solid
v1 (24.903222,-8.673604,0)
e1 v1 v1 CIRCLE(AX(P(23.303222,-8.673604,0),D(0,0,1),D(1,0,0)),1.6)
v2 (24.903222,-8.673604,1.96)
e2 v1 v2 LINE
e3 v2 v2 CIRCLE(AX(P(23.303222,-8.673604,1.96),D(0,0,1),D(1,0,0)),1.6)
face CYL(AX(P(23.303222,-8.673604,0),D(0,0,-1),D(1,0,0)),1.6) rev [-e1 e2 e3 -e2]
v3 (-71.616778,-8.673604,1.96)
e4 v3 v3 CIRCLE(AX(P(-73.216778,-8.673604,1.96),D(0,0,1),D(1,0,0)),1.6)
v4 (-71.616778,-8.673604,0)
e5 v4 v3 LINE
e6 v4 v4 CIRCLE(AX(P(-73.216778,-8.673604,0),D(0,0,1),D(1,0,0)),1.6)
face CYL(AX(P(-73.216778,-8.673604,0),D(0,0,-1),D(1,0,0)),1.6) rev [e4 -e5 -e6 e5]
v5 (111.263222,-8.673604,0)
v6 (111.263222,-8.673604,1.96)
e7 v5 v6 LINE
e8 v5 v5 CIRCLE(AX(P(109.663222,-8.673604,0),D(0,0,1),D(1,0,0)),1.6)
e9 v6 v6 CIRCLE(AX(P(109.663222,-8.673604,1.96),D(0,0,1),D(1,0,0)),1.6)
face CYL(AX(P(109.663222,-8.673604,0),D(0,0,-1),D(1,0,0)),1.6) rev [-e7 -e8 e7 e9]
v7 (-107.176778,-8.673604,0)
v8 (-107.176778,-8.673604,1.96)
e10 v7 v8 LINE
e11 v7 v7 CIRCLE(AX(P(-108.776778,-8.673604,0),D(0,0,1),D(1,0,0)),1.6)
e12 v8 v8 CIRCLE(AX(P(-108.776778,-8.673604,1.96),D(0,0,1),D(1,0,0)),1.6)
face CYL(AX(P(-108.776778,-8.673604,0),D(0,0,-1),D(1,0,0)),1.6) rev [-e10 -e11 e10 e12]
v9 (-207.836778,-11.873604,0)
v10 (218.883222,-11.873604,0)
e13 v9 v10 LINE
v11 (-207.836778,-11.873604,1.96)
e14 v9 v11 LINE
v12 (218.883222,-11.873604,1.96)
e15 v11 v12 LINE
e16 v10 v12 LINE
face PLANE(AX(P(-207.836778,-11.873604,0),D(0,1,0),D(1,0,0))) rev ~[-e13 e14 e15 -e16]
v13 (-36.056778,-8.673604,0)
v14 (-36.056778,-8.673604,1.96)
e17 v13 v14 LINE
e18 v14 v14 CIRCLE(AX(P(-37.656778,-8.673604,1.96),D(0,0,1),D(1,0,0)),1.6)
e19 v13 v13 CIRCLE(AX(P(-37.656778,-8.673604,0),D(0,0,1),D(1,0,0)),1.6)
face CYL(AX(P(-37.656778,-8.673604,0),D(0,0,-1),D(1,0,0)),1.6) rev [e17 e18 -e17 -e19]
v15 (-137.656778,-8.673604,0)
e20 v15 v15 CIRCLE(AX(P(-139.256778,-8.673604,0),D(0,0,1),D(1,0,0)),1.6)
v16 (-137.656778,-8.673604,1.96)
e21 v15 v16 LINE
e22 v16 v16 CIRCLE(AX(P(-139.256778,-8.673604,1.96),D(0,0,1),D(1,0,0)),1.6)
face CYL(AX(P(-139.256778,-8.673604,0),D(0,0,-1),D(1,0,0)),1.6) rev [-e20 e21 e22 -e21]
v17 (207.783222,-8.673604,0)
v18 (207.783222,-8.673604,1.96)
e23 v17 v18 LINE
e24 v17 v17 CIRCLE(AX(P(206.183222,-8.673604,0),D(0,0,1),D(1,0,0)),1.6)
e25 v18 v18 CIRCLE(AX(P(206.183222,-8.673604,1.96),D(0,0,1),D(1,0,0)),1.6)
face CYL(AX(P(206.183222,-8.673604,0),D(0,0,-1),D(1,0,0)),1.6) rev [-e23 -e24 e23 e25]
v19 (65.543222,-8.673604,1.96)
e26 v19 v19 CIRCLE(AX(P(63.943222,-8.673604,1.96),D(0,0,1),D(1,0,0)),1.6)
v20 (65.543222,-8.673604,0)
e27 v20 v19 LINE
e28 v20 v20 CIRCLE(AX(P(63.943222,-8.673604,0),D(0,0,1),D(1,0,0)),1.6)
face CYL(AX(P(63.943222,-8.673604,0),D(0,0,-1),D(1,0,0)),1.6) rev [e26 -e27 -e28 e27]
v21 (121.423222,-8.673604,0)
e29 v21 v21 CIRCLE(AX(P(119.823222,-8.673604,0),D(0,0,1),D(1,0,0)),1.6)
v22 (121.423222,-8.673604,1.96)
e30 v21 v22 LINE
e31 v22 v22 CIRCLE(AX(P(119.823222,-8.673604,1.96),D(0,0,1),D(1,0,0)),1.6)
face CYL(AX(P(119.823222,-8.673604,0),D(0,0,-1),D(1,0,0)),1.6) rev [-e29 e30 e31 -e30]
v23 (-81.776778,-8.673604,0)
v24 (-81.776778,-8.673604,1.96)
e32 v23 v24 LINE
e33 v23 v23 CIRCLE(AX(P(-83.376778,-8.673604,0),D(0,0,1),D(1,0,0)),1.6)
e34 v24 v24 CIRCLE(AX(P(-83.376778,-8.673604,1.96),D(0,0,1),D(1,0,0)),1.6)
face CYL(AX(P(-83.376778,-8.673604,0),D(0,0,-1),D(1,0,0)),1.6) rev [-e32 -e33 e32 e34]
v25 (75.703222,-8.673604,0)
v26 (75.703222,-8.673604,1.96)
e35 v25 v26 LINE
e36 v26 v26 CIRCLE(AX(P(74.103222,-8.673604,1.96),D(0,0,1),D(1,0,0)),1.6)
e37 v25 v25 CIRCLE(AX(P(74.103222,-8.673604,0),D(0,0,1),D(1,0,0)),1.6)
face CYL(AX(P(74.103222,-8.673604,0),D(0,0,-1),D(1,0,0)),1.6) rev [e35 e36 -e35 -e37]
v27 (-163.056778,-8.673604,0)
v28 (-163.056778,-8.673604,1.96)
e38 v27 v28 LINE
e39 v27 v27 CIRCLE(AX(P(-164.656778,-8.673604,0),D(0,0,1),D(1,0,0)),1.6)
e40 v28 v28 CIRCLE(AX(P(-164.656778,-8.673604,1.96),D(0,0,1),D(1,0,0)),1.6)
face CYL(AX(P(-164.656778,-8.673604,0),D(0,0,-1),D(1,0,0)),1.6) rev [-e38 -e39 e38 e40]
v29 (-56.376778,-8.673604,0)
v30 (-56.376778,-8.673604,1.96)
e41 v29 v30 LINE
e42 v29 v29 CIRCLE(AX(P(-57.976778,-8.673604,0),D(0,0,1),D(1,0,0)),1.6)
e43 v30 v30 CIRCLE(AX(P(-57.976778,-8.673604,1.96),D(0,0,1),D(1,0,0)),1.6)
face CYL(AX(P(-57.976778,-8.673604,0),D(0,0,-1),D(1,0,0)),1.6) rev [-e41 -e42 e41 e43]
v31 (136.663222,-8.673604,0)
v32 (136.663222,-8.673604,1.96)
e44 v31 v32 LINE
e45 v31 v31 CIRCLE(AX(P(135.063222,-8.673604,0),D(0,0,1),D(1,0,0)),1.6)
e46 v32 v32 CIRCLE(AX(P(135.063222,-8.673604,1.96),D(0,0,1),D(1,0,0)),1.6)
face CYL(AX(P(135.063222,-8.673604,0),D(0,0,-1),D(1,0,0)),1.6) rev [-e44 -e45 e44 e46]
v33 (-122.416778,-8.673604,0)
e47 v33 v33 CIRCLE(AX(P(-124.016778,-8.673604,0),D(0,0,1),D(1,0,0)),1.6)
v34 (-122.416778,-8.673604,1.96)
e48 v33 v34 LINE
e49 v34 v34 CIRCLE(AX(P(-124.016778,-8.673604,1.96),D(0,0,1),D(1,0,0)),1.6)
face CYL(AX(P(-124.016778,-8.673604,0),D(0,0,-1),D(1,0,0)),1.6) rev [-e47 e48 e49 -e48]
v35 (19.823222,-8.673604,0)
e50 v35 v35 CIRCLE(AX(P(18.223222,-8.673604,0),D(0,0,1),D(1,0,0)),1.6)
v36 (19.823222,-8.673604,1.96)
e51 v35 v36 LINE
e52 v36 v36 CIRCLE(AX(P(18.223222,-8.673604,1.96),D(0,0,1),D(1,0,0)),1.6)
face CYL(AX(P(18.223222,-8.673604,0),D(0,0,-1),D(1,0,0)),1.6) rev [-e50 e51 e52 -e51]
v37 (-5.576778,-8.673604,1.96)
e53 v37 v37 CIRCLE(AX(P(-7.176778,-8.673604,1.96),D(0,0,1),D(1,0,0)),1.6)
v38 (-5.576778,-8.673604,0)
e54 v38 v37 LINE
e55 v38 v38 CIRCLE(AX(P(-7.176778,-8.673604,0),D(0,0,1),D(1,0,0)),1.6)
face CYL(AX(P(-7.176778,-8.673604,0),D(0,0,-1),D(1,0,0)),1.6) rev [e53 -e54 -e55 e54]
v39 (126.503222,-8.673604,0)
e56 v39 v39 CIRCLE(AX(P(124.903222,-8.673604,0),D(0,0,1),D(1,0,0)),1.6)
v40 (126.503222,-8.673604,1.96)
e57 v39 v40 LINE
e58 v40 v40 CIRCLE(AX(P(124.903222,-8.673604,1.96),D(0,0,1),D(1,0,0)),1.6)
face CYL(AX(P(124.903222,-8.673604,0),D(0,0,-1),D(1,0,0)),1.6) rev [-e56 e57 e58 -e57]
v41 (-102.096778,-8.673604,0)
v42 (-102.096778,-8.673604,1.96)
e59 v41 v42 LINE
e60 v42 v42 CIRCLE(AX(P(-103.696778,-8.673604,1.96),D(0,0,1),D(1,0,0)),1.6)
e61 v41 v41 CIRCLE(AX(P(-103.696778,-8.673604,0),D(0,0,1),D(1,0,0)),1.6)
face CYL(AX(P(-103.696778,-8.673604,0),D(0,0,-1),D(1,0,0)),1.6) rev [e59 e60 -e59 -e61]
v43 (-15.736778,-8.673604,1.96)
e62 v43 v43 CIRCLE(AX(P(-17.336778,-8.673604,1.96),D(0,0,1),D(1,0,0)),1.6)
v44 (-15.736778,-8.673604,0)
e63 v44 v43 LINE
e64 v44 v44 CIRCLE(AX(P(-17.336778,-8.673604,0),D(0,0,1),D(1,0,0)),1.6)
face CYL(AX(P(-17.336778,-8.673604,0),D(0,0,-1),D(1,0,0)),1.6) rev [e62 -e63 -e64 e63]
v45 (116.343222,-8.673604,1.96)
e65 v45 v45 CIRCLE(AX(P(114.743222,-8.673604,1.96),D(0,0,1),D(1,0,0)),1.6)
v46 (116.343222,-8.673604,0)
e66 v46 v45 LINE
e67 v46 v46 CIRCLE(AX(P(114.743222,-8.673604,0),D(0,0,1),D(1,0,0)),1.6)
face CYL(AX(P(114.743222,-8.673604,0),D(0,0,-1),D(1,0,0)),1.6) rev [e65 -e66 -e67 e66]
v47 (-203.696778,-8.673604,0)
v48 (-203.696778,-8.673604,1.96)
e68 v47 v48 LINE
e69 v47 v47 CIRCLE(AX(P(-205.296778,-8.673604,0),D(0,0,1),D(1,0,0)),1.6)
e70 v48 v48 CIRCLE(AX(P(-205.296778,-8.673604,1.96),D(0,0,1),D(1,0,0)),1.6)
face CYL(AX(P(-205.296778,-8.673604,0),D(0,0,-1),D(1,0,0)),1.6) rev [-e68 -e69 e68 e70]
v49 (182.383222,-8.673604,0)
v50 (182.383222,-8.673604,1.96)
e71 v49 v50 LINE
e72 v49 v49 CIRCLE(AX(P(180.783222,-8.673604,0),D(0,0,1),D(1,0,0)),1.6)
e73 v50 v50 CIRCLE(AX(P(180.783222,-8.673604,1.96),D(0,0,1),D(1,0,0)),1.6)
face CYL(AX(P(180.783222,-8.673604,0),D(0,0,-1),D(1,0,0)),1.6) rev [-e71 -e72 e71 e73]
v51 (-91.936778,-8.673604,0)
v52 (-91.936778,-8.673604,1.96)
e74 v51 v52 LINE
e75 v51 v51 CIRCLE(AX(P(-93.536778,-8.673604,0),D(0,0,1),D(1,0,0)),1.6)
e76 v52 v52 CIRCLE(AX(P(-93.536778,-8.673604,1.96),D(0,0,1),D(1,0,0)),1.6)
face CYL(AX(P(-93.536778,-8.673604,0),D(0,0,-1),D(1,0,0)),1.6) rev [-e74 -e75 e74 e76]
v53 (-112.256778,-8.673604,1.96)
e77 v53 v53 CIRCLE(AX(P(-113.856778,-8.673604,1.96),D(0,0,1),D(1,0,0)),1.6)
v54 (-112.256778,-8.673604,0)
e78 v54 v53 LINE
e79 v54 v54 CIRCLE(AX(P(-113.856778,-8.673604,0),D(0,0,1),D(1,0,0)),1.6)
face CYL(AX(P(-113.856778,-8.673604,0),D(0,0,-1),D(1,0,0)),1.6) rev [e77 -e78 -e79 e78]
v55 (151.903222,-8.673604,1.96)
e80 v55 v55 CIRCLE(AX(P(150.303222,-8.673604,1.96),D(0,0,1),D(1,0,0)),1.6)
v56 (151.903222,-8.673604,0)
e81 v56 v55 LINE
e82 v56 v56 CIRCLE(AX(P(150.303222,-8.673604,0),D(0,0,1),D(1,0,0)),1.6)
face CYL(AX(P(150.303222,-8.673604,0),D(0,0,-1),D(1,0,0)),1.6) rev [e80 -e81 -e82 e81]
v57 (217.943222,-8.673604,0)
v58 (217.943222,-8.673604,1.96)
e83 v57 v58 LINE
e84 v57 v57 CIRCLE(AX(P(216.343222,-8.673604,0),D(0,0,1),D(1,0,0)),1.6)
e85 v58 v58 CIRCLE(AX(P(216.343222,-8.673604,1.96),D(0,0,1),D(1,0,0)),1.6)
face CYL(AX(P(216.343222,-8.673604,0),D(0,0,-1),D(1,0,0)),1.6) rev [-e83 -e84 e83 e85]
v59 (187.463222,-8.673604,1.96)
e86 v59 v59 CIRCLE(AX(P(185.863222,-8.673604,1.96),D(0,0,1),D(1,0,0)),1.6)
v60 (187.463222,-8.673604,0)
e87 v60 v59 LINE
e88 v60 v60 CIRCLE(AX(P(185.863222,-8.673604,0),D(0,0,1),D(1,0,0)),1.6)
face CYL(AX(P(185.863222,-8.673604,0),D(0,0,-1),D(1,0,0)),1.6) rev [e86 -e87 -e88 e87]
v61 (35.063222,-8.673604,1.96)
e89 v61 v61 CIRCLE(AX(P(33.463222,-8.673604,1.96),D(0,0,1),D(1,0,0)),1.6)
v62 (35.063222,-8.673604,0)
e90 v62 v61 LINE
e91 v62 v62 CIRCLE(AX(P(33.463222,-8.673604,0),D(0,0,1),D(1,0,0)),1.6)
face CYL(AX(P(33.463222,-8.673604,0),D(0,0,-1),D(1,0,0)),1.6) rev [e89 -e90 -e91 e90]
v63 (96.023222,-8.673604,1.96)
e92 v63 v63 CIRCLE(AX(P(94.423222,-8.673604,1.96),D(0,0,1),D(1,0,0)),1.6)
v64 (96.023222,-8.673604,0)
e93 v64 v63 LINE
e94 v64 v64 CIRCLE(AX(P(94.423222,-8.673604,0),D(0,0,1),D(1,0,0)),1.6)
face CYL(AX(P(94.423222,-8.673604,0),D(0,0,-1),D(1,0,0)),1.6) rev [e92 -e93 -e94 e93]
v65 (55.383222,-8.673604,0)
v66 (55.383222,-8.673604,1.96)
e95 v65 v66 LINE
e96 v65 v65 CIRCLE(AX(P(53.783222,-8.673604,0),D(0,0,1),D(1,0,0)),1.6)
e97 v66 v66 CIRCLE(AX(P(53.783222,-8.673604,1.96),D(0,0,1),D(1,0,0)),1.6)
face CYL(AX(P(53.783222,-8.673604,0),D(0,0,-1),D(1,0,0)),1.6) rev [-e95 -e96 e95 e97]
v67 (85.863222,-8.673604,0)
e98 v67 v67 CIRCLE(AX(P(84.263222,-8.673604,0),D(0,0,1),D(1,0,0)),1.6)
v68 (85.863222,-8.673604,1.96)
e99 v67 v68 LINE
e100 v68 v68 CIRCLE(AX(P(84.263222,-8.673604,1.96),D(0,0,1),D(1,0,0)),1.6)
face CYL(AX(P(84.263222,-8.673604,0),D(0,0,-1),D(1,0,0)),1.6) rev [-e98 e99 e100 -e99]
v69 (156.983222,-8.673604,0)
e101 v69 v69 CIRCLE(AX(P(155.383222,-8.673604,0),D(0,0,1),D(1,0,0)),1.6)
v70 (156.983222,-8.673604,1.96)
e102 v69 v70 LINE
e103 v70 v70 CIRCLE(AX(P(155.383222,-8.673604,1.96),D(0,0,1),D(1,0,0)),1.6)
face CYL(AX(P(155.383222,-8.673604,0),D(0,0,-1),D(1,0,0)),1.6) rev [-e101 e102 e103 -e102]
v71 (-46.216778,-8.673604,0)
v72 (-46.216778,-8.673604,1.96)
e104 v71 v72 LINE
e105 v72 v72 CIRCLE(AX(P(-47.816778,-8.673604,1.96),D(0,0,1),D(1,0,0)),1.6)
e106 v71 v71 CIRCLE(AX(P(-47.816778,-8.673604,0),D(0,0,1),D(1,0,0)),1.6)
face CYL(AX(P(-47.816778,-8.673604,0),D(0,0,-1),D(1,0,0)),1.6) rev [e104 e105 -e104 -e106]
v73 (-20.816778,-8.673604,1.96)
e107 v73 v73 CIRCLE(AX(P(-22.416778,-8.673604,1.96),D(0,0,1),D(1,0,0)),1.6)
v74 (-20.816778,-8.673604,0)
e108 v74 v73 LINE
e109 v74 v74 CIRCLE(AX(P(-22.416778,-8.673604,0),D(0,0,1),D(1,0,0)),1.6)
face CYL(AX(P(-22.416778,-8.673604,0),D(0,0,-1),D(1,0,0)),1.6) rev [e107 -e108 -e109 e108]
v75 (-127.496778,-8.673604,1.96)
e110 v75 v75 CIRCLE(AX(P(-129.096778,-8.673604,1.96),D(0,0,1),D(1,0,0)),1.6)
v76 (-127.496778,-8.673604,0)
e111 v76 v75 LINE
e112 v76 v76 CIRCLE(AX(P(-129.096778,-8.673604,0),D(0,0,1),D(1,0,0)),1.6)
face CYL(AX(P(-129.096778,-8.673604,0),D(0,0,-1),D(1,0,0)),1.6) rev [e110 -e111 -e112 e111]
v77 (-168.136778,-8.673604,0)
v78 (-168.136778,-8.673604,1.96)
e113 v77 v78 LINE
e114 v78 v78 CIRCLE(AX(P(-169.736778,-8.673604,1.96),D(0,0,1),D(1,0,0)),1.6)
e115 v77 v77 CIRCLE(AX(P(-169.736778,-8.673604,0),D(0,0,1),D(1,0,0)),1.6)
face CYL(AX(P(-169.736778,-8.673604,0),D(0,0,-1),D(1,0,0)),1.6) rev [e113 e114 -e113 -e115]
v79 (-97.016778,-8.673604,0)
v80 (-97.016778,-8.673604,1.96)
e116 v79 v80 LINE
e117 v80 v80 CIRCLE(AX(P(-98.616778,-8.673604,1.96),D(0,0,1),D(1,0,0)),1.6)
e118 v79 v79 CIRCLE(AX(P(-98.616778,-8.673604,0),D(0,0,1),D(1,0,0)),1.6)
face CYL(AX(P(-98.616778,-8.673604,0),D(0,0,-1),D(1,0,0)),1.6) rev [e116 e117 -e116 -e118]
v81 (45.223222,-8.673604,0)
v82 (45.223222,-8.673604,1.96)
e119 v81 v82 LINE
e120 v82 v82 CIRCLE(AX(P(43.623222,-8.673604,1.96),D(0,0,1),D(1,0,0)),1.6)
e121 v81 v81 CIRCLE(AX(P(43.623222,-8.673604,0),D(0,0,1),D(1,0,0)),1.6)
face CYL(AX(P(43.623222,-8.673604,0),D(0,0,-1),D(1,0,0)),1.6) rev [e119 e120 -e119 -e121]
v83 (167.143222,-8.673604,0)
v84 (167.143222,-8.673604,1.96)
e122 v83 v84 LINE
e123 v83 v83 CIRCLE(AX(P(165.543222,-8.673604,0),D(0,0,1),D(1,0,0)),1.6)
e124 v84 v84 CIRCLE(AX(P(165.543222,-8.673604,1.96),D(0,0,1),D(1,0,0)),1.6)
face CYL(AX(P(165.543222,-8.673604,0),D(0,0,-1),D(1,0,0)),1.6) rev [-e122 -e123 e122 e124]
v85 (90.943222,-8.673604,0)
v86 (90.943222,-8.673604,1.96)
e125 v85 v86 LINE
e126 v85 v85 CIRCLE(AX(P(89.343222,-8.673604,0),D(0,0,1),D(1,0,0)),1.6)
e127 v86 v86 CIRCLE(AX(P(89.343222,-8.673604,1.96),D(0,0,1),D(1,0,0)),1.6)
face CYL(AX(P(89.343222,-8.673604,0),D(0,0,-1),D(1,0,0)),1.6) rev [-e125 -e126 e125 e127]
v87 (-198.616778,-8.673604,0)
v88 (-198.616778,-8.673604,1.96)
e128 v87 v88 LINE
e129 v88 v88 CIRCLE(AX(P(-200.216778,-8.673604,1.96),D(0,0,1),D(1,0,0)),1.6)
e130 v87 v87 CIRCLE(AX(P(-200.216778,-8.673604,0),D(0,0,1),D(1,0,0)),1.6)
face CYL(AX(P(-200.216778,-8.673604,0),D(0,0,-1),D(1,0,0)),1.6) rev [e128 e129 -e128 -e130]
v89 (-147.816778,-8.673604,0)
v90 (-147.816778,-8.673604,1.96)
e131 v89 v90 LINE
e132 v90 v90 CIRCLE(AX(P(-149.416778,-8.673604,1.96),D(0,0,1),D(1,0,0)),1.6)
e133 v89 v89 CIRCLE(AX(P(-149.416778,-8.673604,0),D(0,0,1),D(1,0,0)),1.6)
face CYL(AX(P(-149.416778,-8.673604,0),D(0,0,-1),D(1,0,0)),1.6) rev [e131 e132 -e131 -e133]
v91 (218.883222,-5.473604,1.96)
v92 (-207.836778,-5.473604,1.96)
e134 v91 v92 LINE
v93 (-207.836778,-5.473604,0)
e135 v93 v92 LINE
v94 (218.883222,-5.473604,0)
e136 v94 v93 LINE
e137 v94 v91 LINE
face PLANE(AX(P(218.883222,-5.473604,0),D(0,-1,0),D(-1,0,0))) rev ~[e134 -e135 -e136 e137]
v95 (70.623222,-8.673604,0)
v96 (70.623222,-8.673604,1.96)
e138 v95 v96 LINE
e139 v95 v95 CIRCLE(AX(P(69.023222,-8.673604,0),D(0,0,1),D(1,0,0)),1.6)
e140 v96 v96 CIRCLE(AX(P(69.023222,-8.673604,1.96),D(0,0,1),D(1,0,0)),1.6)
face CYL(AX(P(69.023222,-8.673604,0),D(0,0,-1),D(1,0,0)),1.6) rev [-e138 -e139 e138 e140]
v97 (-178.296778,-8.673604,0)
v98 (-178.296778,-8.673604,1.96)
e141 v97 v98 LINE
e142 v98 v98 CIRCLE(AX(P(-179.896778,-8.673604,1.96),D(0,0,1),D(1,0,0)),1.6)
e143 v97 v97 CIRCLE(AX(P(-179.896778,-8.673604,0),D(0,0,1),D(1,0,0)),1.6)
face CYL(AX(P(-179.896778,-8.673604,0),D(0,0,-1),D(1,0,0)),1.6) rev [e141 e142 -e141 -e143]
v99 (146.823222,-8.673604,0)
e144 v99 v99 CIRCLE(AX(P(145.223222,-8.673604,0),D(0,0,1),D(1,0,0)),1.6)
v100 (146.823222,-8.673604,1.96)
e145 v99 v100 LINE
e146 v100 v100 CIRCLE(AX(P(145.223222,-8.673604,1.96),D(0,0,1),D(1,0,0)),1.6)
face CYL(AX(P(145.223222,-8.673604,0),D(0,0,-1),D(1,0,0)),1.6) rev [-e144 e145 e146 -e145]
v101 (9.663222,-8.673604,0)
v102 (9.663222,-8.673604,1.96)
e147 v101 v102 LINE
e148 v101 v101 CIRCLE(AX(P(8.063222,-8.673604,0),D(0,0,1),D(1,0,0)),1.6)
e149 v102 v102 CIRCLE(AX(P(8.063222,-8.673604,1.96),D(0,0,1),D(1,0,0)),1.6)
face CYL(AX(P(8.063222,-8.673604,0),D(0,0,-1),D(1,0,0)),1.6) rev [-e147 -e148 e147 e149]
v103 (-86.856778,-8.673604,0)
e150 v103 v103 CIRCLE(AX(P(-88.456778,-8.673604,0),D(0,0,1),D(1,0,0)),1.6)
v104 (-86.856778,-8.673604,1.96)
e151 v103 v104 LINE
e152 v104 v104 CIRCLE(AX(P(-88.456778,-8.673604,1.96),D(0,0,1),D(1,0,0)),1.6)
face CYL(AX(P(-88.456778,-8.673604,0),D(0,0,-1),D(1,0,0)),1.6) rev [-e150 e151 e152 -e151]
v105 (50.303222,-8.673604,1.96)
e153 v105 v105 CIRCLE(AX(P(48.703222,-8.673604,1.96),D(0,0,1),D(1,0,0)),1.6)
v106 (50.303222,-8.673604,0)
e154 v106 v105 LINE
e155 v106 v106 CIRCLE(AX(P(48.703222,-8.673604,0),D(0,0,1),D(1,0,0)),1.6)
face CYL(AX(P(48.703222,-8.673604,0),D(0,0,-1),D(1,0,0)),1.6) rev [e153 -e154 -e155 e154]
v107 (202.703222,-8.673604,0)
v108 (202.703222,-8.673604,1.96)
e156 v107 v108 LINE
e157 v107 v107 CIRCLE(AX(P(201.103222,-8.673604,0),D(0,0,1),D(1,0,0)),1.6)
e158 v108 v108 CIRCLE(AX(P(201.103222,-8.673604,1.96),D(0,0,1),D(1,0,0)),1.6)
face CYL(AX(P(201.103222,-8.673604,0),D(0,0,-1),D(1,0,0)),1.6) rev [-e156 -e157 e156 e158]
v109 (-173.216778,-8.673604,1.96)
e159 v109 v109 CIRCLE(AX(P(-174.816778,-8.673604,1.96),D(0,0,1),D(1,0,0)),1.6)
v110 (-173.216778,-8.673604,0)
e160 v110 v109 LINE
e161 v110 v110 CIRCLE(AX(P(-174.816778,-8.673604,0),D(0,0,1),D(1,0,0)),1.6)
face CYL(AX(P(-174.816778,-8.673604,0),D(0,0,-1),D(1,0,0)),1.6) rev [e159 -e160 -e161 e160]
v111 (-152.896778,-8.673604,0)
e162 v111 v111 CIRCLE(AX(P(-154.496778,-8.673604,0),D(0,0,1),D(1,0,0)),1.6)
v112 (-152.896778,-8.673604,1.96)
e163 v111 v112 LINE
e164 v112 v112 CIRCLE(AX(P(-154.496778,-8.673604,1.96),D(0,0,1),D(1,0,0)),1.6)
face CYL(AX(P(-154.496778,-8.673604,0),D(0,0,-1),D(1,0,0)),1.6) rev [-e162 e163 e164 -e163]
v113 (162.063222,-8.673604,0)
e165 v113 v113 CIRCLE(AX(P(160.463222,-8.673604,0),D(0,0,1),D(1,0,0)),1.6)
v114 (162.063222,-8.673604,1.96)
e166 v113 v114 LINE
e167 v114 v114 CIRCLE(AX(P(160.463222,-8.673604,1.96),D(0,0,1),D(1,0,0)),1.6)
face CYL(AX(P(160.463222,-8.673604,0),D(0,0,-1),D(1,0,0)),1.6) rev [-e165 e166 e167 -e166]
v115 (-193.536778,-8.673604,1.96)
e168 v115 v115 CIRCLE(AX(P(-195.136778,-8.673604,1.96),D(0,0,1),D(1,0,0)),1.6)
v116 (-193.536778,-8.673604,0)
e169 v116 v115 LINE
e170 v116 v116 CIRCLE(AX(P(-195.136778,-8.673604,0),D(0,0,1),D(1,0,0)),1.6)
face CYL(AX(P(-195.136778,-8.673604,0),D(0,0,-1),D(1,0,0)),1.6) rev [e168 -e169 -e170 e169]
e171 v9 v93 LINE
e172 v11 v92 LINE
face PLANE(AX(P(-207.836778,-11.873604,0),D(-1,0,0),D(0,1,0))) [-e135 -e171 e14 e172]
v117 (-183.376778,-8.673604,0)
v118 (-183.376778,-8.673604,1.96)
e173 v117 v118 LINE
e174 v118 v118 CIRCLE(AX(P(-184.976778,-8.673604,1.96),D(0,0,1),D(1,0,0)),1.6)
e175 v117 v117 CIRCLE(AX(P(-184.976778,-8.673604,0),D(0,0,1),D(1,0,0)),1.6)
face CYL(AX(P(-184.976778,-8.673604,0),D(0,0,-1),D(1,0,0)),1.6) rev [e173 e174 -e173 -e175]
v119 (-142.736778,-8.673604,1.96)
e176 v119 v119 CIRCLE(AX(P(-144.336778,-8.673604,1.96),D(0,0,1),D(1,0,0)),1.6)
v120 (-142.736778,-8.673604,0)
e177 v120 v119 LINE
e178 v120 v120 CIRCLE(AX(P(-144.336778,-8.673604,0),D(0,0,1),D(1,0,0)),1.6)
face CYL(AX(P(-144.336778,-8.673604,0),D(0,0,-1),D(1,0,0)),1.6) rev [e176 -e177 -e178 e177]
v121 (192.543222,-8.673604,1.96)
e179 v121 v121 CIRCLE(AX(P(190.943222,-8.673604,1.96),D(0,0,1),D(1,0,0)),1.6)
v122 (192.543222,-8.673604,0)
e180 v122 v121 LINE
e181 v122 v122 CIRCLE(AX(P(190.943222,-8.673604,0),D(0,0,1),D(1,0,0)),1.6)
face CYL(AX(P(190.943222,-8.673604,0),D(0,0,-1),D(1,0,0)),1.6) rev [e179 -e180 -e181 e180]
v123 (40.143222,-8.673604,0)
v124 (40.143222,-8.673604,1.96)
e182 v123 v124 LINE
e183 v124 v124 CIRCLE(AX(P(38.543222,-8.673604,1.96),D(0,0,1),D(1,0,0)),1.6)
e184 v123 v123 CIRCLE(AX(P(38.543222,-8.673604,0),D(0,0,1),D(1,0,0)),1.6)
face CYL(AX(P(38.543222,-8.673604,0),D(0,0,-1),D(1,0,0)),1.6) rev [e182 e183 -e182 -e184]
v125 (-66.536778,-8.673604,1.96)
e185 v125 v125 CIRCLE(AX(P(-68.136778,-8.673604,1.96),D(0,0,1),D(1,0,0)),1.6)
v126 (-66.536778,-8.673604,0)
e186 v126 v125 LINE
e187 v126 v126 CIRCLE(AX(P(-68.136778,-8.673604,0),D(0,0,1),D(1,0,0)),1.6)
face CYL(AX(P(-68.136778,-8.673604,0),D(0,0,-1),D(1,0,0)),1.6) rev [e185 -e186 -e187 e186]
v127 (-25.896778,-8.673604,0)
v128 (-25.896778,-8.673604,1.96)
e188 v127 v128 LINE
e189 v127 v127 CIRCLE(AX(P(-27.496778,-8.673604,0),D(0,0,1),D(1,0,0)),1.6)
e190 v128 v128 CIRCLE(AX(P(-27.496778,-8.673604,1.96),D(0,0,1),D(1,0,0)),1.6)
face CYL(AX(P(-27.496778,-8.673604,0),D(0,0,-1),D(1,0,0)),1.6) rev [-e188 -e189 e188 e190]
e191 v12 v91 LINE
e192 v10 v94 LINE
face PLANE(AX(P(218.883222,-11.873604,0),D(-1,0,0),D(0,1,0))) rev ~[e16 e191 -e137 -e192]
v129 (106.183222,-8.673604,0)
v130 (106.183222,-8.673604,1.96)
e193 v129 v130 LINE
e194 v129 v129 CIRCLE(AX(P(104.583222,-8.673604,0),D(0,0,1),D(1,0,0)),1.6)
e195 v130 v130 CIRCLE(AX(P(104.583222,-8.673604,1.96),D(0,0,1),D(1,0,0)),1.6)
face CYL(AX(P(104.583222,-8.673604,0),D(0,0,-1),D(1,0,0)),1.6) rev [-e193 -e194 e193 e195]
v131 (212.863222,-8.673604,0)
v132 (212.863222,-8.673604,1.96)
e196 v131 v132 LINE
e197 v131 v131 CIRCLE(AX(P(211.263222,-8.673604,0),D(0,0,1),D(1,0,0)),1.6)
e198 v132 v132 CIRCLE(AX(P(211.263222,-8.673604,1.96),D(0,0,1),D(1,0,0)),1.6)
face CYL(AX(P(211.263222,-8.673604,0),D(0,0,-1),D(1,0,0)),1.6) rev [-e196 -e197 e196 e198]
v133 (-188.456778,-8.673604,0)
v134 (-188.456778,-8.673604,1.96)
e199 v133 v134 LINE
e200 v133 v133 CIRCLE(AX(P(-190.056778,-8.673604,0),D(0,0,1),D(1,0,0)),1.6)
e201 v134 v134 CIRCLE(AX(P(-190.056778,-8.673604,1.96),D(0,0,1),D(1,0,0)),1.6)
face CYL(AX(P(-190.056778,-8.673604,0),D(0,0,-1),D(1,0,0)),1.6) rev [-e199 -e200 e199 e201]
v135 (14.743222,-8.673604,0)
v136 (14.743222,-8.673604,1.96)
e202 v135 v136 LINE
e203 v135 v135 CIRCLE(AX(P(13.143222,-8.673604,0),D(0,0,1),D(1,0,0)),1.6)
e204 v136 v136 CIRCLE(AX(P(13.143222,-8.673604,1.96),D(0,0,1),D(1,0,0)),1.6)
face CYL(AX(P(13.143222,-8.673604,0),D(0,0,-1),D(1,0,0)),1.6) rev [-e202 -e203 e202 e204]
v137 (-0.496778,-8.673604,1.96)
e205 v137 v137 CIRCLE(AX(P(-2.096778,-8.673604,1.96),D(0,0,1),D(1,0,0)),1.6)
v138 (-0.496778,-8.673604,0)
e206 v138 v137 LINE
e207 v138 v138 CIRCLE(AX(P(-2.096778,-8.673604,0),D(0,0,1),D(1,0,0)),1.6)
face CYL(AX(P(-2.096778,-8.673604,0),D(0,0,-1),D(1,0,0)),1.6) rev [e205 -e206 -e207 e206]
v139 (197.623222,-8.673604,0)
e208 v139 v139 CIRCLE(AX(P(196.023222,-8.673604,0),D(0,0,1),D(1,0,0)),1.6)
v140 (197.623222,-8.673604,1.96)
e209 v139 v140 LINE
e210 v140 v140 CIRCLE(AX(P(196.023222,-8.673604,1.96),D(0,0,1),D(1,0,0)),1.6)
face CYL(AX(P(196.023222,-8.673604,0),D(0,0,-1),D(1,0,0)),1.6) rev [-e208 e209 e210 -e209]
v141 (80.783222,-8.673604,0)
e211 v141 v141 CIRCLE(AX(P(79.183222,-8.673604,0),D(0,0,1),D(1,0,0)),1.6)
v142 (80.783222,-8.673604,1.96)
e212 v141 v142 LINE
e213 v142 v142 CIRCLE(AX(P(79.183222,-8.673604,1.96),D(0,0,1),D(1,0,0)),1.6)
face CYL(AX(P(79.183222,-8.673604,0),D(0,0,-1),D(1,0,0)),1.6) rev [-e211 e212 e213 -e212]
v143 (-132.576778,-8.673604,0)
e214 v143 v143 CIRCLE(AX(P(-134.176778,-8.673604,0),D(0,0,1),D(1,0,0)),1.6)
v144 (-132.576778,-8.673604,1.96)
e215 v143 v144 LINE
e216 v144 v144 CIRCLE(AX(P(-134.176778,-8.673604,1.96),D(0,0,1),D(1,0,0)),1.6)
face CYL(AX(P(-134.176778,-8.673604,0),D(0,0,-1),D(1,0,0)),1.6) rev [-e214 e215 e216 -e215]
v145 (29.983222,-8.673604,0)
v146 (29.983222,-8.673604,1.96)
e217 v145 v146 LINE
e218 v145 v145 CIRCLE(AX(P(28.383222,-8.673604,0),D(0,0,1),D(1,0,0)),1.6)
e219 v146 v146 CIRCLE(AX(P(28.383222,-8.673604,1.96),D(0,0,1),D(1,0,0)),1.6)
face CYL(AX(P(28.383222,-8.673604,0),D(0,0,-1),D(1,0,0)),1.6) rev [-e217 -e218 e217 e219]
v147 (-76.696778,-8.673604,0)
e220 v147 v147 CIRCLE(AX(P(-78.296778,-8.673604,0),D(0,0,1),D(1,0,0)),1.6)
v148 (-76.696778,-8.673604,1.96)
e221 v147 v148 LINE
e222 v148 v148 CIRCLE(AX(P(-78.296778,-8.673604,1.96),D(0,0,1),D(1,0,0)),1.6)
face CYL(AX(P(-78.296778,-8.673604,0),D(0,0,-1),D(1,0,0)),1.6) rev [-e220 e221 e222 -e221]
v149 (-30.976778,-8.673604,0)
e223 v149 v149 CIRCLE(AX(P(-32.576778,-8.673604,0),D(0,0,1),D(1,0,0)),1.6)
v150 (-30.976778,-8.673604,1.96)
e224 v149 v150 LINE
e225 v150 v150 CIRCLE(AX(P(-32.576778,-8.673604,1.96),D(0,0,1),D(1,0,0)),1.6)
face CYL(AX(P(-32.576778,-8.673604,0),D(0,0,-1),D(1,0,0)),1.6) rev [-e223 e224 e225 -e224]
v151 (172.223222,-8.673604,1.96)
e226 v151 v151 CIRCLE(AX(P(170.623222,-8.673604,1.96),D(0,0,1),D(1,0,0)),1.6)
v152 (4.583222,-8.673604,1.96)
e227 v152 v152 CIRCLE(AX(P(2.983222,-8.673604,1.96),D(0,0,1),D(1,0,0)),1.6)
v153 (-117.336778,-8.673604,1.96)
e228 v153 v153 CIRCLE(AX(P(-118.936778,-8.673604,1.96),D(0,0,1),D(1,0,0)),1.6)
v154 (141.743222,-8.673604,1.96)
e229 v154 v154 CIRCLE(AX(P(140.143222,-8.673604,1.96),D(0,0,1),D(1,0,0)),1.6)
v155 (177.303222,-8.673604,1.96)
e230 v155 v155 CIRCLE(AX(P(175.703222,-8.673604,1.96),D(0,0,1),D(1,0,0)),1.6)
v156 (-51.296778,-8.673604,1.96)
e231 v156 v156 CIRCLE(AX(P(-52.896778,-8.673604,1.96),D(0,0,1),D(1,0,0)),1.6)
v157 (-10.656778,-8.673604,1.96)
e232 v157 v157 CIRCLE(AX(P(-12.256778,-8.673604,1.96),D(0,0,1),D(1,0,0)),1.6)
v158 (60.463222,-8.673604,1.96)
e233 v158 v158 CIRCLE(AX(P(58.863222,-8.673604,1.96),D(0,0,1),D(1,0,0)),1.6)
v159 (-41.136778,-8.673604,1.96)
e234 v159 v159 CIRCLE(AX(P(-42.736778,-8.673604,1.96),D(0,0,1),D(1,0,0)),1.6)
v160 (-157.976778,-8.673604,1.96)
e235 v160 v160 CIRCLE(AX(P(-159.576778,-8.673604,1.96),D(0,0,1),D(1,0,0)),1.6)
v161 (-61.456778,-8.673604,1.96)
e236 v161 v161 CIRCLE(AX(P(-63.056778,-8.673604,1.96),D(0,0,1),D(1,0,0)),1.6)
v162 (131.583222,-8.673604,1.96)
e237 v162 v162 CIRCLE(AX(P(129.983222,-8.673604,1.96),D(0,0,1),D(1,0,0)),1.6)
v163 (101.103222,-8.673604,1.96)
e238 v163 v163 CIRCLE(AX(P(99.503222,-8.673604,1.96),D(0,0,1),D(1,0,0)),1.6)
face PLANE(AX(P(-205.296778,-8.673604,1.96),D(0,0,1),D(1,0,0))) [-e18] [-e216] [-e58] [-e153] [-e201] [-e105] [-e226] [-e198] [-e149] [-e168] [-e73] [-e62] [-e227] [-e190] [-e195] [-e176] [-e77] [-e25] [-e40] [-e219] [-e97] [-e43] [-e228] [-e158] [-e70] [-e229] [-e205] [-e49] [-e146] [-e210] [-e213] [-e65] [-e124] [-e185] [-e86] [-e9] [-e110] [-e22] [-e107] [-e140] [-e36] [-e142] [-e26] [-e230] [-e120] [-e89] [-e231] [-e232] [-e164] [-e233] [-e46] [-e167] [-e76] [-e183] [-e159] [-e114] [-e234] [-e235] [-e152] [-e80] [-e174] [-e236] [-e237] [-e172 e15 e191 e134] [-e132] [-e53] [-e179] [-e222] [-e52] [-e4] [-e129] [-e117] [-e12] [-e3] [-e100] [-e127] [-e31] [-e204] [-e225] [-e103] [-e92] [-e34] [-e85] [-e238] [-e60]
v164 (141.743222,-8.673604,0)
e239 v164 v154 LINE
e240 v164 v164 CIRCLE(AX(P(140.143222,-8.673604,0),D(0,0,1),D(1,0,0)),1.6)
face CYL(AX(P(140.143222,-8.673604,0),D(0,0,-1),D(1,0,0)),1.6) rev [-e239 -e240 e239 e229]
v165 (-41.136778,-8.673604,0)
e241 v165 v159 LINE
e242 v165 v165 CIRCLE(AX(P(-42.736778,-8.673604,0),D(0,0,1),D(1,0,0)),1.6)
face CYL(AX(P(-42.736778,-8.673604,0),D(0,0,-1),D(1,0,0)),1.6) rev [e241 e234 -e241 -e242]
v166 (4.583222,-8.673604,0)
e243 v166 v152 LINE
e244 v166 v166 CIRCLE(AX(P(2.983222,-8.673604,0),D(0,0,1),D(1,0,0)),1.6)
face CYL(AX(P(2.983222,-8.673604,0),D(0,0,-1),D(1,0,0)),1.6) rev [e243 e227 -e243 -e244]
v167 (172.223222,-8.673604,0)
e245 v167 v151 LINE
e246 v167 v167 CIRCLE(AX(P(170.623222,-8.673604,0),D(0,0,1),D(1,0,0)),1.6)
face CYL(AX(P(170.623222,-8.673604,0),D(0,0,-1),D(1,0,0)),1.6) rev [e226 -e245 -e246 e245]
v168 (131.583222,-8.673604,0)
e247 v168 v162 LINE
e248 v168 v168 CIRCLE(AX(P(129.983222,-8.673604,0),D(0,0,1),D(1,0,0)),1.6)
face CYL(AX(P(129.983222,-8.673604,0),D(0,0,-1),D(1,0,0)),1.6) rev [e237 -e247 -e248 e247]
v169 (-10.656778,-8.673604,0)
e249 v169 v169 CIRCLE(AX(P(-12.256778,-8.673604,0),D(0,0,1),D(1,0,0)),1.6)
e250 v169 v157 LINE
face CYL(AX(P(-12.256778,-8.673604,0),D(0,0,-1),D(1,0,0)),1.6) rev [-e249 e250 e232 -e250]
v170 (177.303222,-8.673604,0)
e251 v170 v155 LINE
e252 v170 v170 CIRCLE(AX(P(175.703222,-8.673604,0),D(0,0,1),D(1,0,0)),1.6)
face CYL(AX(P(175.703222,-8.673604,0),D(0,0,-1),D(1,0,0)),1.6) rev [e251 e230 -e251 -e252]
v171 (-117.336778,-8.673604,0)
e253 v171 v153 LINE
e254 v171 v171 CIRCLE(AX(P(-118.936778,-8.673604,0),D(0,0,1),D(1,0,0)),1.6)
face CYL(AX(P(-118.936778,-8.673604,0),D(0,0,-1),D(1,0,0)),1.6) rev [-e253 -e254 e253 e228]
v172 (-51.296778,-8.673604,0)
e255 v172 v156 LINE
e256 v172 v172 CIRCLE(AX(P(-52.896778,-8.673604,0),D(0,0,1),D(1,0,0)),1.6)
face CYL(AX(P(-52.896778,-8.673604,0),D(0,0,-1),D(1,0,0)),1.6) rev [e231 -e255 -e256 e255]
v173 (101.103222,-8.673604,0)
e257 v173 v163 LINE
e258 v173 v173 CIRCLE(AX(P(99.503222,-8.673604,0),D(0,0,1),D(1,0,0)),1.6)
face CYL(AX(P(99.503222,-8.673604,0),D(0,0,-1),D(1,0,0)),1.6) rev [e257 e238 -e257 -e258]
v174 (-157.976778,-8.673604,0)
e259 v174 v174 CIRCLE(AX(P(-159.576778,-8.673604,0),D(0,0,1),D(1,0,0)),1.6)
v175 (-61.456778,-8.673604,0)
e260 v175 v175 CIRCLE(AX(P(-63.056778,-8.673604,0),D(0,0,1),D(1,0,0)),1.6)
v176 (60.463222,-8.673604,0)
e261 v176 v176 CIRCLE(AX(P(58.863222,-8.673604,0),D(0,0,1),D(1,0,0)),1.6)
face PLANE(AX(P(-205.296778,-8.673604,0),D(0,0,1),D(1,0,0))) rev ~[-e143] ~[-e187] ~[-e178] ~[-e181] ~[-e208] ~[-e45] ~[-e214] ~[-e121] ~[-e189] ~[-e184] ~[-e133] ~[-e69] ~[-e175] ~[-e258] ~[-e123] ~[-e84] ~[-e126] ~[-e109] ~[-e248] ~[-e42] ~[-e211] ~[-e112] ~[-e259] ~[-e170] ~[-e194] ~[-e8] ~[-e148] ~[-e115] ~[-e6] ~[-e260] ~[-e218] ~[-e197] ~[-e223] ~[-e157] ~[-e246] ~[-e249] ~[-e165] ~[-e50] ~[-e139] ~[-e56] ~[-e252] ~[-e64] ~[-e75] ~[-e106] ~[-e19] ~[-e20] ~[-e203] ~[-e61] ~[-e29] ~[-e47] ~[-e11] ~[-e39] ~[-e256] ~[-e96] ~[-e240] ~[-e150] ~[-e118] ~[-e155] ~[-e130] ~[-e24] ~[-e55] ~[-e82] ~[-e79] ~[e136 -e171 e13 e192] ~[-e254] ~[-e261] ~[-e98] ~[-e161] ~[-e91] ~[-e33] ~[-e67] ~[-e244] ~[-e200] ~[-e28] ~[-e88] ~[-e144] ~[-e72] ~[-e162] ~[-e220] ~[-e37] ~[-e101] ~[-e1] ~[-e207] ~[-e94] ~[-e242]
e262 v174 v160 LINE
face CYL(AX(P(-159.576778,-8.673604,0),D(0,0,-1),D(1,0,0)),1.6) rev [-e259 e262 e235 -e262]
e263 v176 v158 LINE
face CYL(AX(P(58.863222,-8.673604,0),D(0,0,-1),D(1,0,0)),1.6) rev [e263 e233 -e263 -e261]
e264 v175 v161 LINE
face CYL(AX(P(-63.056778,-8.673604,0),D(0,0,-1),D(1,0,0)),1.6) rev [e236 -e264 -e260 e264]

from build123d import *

# Parameters (mm, degrees)
F0_W     = 5.08
F0_H     = 6.4
F0_R     = 1.6
F1_DEPTH = 1.96


with BuildPart() as f1:
    # F0 (on Top) → F1 (new body)
    with BuildSketch(Plane.XY):
        with Locations((-205.296778, -8.673604)):
            Rectangle(F0_W, F0_H)
        with Locations((-205.296778, -8.673604)):
            Circle(F0_R, mode=Mode.SUBTRACT)
        with Locations((-200.216778, -8.673604)):
            Rectangle(F0_W, F0_H)
        with Locations((-200.216778, -8.673604)):
            Circle(F0_R, mode=Mode.SUBTRACT)
        with Locations((-195.136778, -8.673604)):
            Rectangle(F0_W, F0_H)
        with Locations((-195.136778, -8.673604)):
            Circle(F0_R, mode=Mode.SUBTRACT)
        with Locations((-190.056778, -8.673604)):
            Rectangle(F0_W, F0_H)
        with Locations((-190.056778, -8.673604)):
            Circle(F0_R, mode=Mode.SUBTRACT)
        with Locations((-184.976778, -8.673604)):
            Rectangle(F0_W, F0_H)
        with Locations((-184.976778, -8.673604)):
            Circle(F0_R, mode=Mode.SUBTRACT)
        with Locations((-179.896778, -8.673604)):
            Rectangle(F0_W, F0_H)
        with Locations((-179.896778, -8.673604)):
            Circle(F0_R, mode=Mode.SUBTRACT)
        with Locations((-174.816778, -8.673604)):
            Rectangle(F0_W, F0_H)
        with Locations((-174.816778, -8.673604)):
            Circle(F0_R, mode=Mode.SUBTRACT)
        with Locations((-169.736778, -8.673604)):
            Rectangle(F0_W, F0_H)
        with Locations((-169.736778, -8.673604)):
            Circle(F0_R, mode=Mode.SUBTRACT)
        with Locations((-164.656778, -8.673604)):
            Rectangle(F0_W, F0_H)
        with Locations((-164.656778, -8.673604)):
            Circle(F0_R, mode=Mode.SUBTRACT)
        with Locations((-159.576778, -8.673604)):
            Rectangle(F0_W, F0_H)
        with Locations((-159.576778, -8.673604)):
            Circle(F0_R, mode=Mode.SUBTRACT)
        with Locations((-154.496778, -8.673604)):
            Rectangle(F0_W, F0_H)
        with Locations((-154.496778, -8.673604)):
            Circle(F0_R, mode=Mode.SUBTRACT)
        with Locations((-149.416778, -8.673604)):
            Rectangle(F0_W, F0_H)
        with Locations((-149.416778, -8.673604)):
            Circle(F0_R, mode=Mode.SUBTRACT)
        with Locations((-144.336778, -8.673604)):
            Rectangle(F0_W, F0_H)
        with Locations((-144.336778, -8.673604)):
            Circle(F0_R, mode=Mode.SUBTRACT)
        with Locations((-139.256778, -8.673604)):
            Rectangle(F0_W, F0_H)
        with Locations((-139.256778, -8.673604)):
            Circle(F0_R, mode=Mode.SUBTRACT)
        with Locations((-134.176778, -8.673604)):
            Rectangle(F0_W, F0_H)
        with Locations((-134.176778, -8.673604)):
            Circle(F0_R, mode=Mode.SUBTRACT)
        with Locations((-129.096778, -8.673604)):
            Rectangle(F0_W, F0_H)
        with Locations((-129.096778, -8.673604)):
            Circle(F0_R, mode=Mode.SUBTRACT)
        with Locations((-124.016778, -8.673604)):
            Rectangle(F0_W, F0_H)
        with Locations((-124.016778, -8.673604)):
            Circle(F0_R, mode=Mode.SUBTRACT)
        with Locations((-118.936778, -8.673604)):
            Rectangle(F0_W, F0_H)
        with Locations((-118.936778, -8.673604)):
            Circle(F0_R, mode=Mode.SUBTRACT)
        with Locations((-113.856778, -8.673604)):
            Rectangle(F0_W, F0_H)
        with Locations((-113.856778, -8.673604)):
            Circle(F0_R, mode=Mode.SUBTRACT)
        with Locations((-108.776778, -8.673604)):
            Rectangle(F0_W, F0_H)
        with Locations((-108.776778, -8.673604)):
            Circle(F0_R, mode=Mode.SUBTRACT)
        with Locations((-103.696778, -8.673604)):
            Rectangle(F0_W, F0_H)
        with Locations((-103.696778, -8.673604)):
            Circle(F0_R, mode=Mode.SUBTRACT)
        with Locations((-98.616778, -8.673604)):
            Rectangle(F0_W, F0_H)
        with Locations((-98.616778, -8.673604)):
            Circle(F0_R, mode=Mode.SUBTRACT)
        with Locations((-93.536778, -8.673604)):
            Rectangle(F0_W, F0_H)
        with Locations((-93.536778, -8.673604)):
            Circle(F0_R, mode=Mode.SUBTRACT)
        with Locations((-88.456778, -8.673604)):
            Rectangle(F0_W, F0_H)
        with Locations((-88.456778, -8.673604)):
            Circle(F0_R, mode=Mode.SUBTRACT)
        with Locations((-83.376778, -8.673604)):
            Rectangle(F0_W, F0_H)
        with Locations((-83.376778, -8.673604)):
            Circle(F0_R, mode=Mode.SUBTRACT)
        with Locations((-78.296778, -8.673604)):
            Rectangle(F0_W, F0_H)
        with Locations((-78.296778, -8.673604)):
            Circle(F0_R, mode=Mode.SUBTRACT)
        with Locations((-73.216778, -8.673604)):
            Rectangle(F0_W, F0_H)
        with Locations((-73.216778, -8.673604)):
            Circle(F0_R, mode=Mode.SUBTRACT)
        with Locations((-68.136778, -8.673604)):
            Rectangle(F0_W, F0_H)
        with Locations((-68.136778, -8.673604)):
            Circle(F0_R, mode=Mode.SUBTRACT)
        with Locations((-63.056778, -8.673604)):
            Rectangle(F0_W, F0_H)
        with Locations((-63.056778, -8.673604)):
            Circle(F0_R, mode=Mode.SUBTRACT)
        with Locations((-57.976778, -8.673604)):
            Rectangle(F0_W, F0_H)
        with Locations((-57.976778, -8.673604)):
            Circle(F0_R, mode=Mode.SUBTRACT)
        with Locations((-52.896778, -8.673604)):
            Rectangle(F0_W, F0_H)
        with Locations((-52.896778, -8.673604)):
            Circle(F0_R, mode=Mode.SUBTRACT)
        with Locations((-47.816778, -8.673604)):
            Rectangle(F0_W, F0_H)
        with Locations((-47.816778, -8.673604)):
            Circle(F0_R, mode=Mode.SUBTRACT)
        with Locations((-42.736778, -8.673604)):
            Rectangle(F0_W, F0_H)
        with Locations((-42.736778, -8.673604)):
            Circle(F0_R, mode=Mode.SUBTRACT)
        with Locations((-37.656778, -8.673604)):
            Rectangle(F0_W, F0_H)
        with Locations((-37.656778, -8.673604)):
            Circle(F0_R, mode=Mode.SUBTRACT)
        with Locations((-32.576778, -8.673604)):
            Rectangle(F0_W, F0_H)
        with Locations((-32.576778, -8.673604)):
            Circle(F0_R, mode=Mode.SUBTRACT)
        with Locations((-27.496778, -8.673604)):
            Rectangle(F0_W, F0_H)
        with Locations((-27.496778, -8.673604)):
            Circle(F0_R, mode=Mode.SUBTRACT)
        with Locations((-22.416778, -8.673604)):
            Rectangle(F0_W, F0_H)
        with Locations((-22.416778, -8.673604)):
            Circle(F0_R, mode=Mode.SUBTRACT)
        with Locations((-17.336778, -8.673604)):
            Rectangle(F0_W, F0_H)
        with Locations((-17.336778, -8.673604)):
            Circle(F0_R, mode=Mode.SUBTRACT)
        with Locations((-12.256778, -8.673604)):
            Rectangle(F0_W, F0_H)
        with Locations((-12.256778, -8.673604)):
            Circle(F0_R, mode=Mode.SUBTRACT)
        with Locations((-7.176778, -8.673604)):
            Rectangle(F0_W, F0_H)
        with Locations((-7.176778, -8.673604)):
            Circle(F0_R, mode=Mode.SUBTRACT)
        with Locations((-2.096778, -8.673604)):
            Rectangle(F0_W, F0_H)
        with Locations((-2.096778, -8.673604)):
            Circle(F0_R, mode=Mode.SUBTRACT)
        with Locations((2.983222, -8.673604)):
            Rectangle(F0_W, F0_H)
        with Locations((2.983222, -8.673604)):
            Circle(F0_R, mode=Mode.SUBTRACT)
        with Locations((8.063222, -8.673604)):
            Rectangle(F0_W, F0_H)
        with Locations((8.063222, -8.673604)):
            Circle(F0_R, mode=Mode.SUBTRACT)
        with Locations((13.143222, -8.673604)):
            Rectangle(F0_W, F0_H)
        with Locations((13.143222, -8.673604)):
            Circle(F0_R, mode=Mode.SUBTRACT)
        with Locations((18.223222, -8.673604)):
            Rectangle(F0_W, F0_H)
        with Locations((18.223222, -8.673604)):
            Circle(F0_R, mode=Mode.SUBTRACT)
        with Locations((23.303222, -8.673604)):
            Rectangle(F0_W, F0_H)
        with Locations((23.303222, -8.673604)):
            Circle(F0_R, mode=Mode.SUBTRACT)
        with Locations((28.383222, -8.673604)):
            Rectangle(F0_W, F0_H)
        with Locations((28.383222, -8.673604)):
            Circle(F0_R, mode=Mode.SUBTRACT)
        with Locations((33.463222, -8.673604)):
            Rectangle(F0_W, F0_H)
        with Locations((33.463222, -8.673604)):
            Circle(F0_R, mode=Mode.SUBTRACT)
        with Locations((38.543222, -8.673604)):
            Rectangle(F0_W, F0_H)
        with Locations((38.543222, -8.673604)):
            Circle(F0_R, mode=Mode.SUBTRACT)
        with Locations((43.623222, -8.673604)):
            Rectangle(F0_W, F0_H)
        with Locations((43.623222, -8.673604)):
            Circle(F0_R, mode=Mode.SUBTRACT)
        with Locations((48.703222, -8.673604)):
            Rectangle(F0_W, F0_H)
        with Locations((48.703222, -8.673604)):
            Circle(F0_R, mode=Mode.SUBTRACT)
        with Locations((53.783222, -8.673604)):
            Rectangle(F0_W, F0_H)
        with Locations((53.783222, -8.673604)):
            Circle(F0_R, mode=Mode.SUBTRACT)
        with Locations((58.863222, -8.673604)):
            Rectangle(F0_W, F0_H)
        with Locations((58.863222, -8.673604)):
            Circle(F0_R, mode=Mode.SUBTRACT)
        with Locations((63.943222, -8.673604)):
            Rectangle(F0_W, F0_H)
        with Locations((63.943222, -8.673604)):
            Circle(F0_R, mode=Mode.SUBTRACT)
        with Locations((69.023222, -8.673604)):
            Rectangle(F0_W, F0_H)
        with Locations((69.023222, -8.673604)):
            Circle(F0_R, mode=Mode.SUBTRACT)
        with Locations((74.103222, -8.673604)):
            Rectangle(F0_W, F0_H)
        with Locations((74.103222, -8.673604)):
            Circle(F0_R, mode=Mode.SUBTRACT)
        with Locations((79.183222, -8.673604)):
            Rectangle(F0_W, F0_H)
        with Locations((79.183222, -8.673604)):
            Circle(F0_R, mode=Mode.SUBTRACT)
        with Locations((84.263222, -8.673604)):
            Rectangle(F0_W, F0_H)
        with Locations((84.263222, -8.673604)):
            Circle(F0_R, mode=Mode.SUBTRACT)
        with Locations((89.343222, -8.673604)):
            Rectangle(F0_W, F0_H)
        with Locations((89.343222, -8.673604)):
            Circle(F0_R, mode=Mode.SUBTRACT)
        with Locations((94.423222, -8.673604)):
            Rectangle(F0_W, F0_H)
        with Locations((94.423222, -8.673604)):
            Circle(F0_R, mode=Mode.SUBTRACT)
        with Locations((99.503222, -8.673604)):
            Rectangle(F0_W, F0_H)
        with Locations((99.503222, -8.673604)):
            Circle(F0_R, mode=Mode.SUBTRACT)
        with Locations((104.583222, -8.673604)):
            Rectangle(F0_W, F0_H)
        with Locations((104.583222, -8.673604)):
            Circle(F0_R, mode=Mode.SUBTRACT)
        with Locations((109.663222, -8.673604)):
            Rectangle(F0_W, F0_H)
        with Locations((109.663222, -8.673604)):
            Circle(F0_R, mode=Mode.SUBTRACT)
        with Locations((114.743222, -8.673604)):
            Rectangle(F0_W, F0_H)
        with Locations((114.743222, -8.673604)):
            Circle(F0_R, mode=Mode.SUBTRACT)
        with Locations((119.823222, -8.673604)):
            Rectangle(F0_W, F0_H)
        with Locations((119.823222, -8.673604)):
            Circle(F0_R, mode=Mode.SUBTRACT)
        with Locations((124.903222, -8.673604)):
            Rectangle(F0_W, F0_H)
        with Locations((124.903222, -8.673604)):
            Circle(F0_R, mode=Mode.SUBTRACT)
        with Locations((129.983222, -8.673604)):
            Rectangle(F0_W, F0_H)
        with Locations((129.983222, -8.673604)):
            Circle(F0_R, mode=Mode.SUBTRACT)
        with Locations((135.063222, -8.673604)):
            Rectangle(F0_W, F0_H)
        with Locations((135.063222, -8.673604)):
            Circle(F0_R, mode=Mode.SUBTRACT)
        with Locations((140.143222, -8.673604)):
            Rectangle(F0_W, F0_H)
        with Locations((140.143222, -8.673604)):
            Circle(F0_R, mode=Mode.SUBTRACT)
        with Locations((145.223222, -8.673604)):
            Rectangle(F0_W, F0_H)
        with Locations((145.223222, -8.673604)):
            Circle(F0_R, mode=Mode.SUBTRACT)
        with Locations((150.303222, -8.673604)):
            Rectangle(F0_W, F0_H)
        with Locations((150.303222, -8.673604)):
            Circle(F0_R, mode=Mode.SUBTRACT)
        with Locations((155.383222, -8.673604)):
            Rectangle(F0_W, F0_H)
        with Locations((155.383222, -8.673604)):
            Circle(F0_R, mode=Mode.SUBTRACT)
        with Locations((160.463222, -8.673604)):
            Rectangle(F0_W, F0_H)
        with Locations((160.463222, -8.673604)):
            Circle(F0_R, mode=Mode.SUBTRACT)
        with Locations((165.543222, -8.673604)):
            Rectangle(F0_W, F0_H)
        with Locations((165.543222, -8.673604)):
            Circle(F0_R, mode=Mode.SUBTRACT)
        with Locations((175.703222, -8.673604)):
            Rectangle(F0_W, F0_H)
        with Locations((175.703222, -8.673604)):
            Circle(F0_R, mode=Mode.SUBTRACT)
        with Locations((180.783222, -8.673604)):
            Rectangle(F0_W, F0_H)
        with Locations((180.783222, -8.673604)):
            Circle(F0_R, mode=Mode.SUBTRACT)
        with Locations((170.623222, -8.673604)):
            Rectangle(F0_W, F0_H)
        with Locations((170.623222, -8.673604)):
            Circle(F0_R, mode=Mode.SUBTRACT)
        with Locations((185.863222, -8.673604)):
            Rectangle(F0_W, F0_H)
        with Locations((185.863222, -8.673604)):
            Circle(F0_R, mode=Mode.SUBTRACT)
        with Locations((190.943222, -8.673604)):
            Rectangle(F0_W, F0_H)
        with Locations((190.943222, -8.673604)):
            Circle(F0_R, mode=Mode.SUBTRACT)
        with Locations((196.023222, -8.673604)):
            Rectangle(F0_W, F0_H)
        with Locations((196.023222, -8.673604)):
            Circle(F0_R, mode=Mode.SUBTRACT)
        with Locations((201.103222, -8.673604)):
            Rectangle(F0_W, F0_H)
        with Locations((201.103222, -8.673604)):
            Circle(F0_R, mode=Mode.SUBTRACT)
        with Locations((206.183222, -8.673604)):
            Rectangle(F0_W, F0_H)
        with Locations((206.183222, -8.673604)):
            Circle(F0_R, mode=Mode.SUBTRACT)
        with Locations((211.263222, -8.673604)):
            Rectangle(F0_W, F0_H)
        with Locations((211.263222, -8.673604)):
            Circle(F0_R, mode=Mode.SUBTRACT)
        with Locations((216.343222, -8.673604)):
            Rectangle(F0_W, F0_H)
        with Locations((216.343222, -8.673604)):
            Circle(F0_R, mode=Mode.SUBTRACT)
    extrude(amount=F1_DEPTH)


solid = f1.part
